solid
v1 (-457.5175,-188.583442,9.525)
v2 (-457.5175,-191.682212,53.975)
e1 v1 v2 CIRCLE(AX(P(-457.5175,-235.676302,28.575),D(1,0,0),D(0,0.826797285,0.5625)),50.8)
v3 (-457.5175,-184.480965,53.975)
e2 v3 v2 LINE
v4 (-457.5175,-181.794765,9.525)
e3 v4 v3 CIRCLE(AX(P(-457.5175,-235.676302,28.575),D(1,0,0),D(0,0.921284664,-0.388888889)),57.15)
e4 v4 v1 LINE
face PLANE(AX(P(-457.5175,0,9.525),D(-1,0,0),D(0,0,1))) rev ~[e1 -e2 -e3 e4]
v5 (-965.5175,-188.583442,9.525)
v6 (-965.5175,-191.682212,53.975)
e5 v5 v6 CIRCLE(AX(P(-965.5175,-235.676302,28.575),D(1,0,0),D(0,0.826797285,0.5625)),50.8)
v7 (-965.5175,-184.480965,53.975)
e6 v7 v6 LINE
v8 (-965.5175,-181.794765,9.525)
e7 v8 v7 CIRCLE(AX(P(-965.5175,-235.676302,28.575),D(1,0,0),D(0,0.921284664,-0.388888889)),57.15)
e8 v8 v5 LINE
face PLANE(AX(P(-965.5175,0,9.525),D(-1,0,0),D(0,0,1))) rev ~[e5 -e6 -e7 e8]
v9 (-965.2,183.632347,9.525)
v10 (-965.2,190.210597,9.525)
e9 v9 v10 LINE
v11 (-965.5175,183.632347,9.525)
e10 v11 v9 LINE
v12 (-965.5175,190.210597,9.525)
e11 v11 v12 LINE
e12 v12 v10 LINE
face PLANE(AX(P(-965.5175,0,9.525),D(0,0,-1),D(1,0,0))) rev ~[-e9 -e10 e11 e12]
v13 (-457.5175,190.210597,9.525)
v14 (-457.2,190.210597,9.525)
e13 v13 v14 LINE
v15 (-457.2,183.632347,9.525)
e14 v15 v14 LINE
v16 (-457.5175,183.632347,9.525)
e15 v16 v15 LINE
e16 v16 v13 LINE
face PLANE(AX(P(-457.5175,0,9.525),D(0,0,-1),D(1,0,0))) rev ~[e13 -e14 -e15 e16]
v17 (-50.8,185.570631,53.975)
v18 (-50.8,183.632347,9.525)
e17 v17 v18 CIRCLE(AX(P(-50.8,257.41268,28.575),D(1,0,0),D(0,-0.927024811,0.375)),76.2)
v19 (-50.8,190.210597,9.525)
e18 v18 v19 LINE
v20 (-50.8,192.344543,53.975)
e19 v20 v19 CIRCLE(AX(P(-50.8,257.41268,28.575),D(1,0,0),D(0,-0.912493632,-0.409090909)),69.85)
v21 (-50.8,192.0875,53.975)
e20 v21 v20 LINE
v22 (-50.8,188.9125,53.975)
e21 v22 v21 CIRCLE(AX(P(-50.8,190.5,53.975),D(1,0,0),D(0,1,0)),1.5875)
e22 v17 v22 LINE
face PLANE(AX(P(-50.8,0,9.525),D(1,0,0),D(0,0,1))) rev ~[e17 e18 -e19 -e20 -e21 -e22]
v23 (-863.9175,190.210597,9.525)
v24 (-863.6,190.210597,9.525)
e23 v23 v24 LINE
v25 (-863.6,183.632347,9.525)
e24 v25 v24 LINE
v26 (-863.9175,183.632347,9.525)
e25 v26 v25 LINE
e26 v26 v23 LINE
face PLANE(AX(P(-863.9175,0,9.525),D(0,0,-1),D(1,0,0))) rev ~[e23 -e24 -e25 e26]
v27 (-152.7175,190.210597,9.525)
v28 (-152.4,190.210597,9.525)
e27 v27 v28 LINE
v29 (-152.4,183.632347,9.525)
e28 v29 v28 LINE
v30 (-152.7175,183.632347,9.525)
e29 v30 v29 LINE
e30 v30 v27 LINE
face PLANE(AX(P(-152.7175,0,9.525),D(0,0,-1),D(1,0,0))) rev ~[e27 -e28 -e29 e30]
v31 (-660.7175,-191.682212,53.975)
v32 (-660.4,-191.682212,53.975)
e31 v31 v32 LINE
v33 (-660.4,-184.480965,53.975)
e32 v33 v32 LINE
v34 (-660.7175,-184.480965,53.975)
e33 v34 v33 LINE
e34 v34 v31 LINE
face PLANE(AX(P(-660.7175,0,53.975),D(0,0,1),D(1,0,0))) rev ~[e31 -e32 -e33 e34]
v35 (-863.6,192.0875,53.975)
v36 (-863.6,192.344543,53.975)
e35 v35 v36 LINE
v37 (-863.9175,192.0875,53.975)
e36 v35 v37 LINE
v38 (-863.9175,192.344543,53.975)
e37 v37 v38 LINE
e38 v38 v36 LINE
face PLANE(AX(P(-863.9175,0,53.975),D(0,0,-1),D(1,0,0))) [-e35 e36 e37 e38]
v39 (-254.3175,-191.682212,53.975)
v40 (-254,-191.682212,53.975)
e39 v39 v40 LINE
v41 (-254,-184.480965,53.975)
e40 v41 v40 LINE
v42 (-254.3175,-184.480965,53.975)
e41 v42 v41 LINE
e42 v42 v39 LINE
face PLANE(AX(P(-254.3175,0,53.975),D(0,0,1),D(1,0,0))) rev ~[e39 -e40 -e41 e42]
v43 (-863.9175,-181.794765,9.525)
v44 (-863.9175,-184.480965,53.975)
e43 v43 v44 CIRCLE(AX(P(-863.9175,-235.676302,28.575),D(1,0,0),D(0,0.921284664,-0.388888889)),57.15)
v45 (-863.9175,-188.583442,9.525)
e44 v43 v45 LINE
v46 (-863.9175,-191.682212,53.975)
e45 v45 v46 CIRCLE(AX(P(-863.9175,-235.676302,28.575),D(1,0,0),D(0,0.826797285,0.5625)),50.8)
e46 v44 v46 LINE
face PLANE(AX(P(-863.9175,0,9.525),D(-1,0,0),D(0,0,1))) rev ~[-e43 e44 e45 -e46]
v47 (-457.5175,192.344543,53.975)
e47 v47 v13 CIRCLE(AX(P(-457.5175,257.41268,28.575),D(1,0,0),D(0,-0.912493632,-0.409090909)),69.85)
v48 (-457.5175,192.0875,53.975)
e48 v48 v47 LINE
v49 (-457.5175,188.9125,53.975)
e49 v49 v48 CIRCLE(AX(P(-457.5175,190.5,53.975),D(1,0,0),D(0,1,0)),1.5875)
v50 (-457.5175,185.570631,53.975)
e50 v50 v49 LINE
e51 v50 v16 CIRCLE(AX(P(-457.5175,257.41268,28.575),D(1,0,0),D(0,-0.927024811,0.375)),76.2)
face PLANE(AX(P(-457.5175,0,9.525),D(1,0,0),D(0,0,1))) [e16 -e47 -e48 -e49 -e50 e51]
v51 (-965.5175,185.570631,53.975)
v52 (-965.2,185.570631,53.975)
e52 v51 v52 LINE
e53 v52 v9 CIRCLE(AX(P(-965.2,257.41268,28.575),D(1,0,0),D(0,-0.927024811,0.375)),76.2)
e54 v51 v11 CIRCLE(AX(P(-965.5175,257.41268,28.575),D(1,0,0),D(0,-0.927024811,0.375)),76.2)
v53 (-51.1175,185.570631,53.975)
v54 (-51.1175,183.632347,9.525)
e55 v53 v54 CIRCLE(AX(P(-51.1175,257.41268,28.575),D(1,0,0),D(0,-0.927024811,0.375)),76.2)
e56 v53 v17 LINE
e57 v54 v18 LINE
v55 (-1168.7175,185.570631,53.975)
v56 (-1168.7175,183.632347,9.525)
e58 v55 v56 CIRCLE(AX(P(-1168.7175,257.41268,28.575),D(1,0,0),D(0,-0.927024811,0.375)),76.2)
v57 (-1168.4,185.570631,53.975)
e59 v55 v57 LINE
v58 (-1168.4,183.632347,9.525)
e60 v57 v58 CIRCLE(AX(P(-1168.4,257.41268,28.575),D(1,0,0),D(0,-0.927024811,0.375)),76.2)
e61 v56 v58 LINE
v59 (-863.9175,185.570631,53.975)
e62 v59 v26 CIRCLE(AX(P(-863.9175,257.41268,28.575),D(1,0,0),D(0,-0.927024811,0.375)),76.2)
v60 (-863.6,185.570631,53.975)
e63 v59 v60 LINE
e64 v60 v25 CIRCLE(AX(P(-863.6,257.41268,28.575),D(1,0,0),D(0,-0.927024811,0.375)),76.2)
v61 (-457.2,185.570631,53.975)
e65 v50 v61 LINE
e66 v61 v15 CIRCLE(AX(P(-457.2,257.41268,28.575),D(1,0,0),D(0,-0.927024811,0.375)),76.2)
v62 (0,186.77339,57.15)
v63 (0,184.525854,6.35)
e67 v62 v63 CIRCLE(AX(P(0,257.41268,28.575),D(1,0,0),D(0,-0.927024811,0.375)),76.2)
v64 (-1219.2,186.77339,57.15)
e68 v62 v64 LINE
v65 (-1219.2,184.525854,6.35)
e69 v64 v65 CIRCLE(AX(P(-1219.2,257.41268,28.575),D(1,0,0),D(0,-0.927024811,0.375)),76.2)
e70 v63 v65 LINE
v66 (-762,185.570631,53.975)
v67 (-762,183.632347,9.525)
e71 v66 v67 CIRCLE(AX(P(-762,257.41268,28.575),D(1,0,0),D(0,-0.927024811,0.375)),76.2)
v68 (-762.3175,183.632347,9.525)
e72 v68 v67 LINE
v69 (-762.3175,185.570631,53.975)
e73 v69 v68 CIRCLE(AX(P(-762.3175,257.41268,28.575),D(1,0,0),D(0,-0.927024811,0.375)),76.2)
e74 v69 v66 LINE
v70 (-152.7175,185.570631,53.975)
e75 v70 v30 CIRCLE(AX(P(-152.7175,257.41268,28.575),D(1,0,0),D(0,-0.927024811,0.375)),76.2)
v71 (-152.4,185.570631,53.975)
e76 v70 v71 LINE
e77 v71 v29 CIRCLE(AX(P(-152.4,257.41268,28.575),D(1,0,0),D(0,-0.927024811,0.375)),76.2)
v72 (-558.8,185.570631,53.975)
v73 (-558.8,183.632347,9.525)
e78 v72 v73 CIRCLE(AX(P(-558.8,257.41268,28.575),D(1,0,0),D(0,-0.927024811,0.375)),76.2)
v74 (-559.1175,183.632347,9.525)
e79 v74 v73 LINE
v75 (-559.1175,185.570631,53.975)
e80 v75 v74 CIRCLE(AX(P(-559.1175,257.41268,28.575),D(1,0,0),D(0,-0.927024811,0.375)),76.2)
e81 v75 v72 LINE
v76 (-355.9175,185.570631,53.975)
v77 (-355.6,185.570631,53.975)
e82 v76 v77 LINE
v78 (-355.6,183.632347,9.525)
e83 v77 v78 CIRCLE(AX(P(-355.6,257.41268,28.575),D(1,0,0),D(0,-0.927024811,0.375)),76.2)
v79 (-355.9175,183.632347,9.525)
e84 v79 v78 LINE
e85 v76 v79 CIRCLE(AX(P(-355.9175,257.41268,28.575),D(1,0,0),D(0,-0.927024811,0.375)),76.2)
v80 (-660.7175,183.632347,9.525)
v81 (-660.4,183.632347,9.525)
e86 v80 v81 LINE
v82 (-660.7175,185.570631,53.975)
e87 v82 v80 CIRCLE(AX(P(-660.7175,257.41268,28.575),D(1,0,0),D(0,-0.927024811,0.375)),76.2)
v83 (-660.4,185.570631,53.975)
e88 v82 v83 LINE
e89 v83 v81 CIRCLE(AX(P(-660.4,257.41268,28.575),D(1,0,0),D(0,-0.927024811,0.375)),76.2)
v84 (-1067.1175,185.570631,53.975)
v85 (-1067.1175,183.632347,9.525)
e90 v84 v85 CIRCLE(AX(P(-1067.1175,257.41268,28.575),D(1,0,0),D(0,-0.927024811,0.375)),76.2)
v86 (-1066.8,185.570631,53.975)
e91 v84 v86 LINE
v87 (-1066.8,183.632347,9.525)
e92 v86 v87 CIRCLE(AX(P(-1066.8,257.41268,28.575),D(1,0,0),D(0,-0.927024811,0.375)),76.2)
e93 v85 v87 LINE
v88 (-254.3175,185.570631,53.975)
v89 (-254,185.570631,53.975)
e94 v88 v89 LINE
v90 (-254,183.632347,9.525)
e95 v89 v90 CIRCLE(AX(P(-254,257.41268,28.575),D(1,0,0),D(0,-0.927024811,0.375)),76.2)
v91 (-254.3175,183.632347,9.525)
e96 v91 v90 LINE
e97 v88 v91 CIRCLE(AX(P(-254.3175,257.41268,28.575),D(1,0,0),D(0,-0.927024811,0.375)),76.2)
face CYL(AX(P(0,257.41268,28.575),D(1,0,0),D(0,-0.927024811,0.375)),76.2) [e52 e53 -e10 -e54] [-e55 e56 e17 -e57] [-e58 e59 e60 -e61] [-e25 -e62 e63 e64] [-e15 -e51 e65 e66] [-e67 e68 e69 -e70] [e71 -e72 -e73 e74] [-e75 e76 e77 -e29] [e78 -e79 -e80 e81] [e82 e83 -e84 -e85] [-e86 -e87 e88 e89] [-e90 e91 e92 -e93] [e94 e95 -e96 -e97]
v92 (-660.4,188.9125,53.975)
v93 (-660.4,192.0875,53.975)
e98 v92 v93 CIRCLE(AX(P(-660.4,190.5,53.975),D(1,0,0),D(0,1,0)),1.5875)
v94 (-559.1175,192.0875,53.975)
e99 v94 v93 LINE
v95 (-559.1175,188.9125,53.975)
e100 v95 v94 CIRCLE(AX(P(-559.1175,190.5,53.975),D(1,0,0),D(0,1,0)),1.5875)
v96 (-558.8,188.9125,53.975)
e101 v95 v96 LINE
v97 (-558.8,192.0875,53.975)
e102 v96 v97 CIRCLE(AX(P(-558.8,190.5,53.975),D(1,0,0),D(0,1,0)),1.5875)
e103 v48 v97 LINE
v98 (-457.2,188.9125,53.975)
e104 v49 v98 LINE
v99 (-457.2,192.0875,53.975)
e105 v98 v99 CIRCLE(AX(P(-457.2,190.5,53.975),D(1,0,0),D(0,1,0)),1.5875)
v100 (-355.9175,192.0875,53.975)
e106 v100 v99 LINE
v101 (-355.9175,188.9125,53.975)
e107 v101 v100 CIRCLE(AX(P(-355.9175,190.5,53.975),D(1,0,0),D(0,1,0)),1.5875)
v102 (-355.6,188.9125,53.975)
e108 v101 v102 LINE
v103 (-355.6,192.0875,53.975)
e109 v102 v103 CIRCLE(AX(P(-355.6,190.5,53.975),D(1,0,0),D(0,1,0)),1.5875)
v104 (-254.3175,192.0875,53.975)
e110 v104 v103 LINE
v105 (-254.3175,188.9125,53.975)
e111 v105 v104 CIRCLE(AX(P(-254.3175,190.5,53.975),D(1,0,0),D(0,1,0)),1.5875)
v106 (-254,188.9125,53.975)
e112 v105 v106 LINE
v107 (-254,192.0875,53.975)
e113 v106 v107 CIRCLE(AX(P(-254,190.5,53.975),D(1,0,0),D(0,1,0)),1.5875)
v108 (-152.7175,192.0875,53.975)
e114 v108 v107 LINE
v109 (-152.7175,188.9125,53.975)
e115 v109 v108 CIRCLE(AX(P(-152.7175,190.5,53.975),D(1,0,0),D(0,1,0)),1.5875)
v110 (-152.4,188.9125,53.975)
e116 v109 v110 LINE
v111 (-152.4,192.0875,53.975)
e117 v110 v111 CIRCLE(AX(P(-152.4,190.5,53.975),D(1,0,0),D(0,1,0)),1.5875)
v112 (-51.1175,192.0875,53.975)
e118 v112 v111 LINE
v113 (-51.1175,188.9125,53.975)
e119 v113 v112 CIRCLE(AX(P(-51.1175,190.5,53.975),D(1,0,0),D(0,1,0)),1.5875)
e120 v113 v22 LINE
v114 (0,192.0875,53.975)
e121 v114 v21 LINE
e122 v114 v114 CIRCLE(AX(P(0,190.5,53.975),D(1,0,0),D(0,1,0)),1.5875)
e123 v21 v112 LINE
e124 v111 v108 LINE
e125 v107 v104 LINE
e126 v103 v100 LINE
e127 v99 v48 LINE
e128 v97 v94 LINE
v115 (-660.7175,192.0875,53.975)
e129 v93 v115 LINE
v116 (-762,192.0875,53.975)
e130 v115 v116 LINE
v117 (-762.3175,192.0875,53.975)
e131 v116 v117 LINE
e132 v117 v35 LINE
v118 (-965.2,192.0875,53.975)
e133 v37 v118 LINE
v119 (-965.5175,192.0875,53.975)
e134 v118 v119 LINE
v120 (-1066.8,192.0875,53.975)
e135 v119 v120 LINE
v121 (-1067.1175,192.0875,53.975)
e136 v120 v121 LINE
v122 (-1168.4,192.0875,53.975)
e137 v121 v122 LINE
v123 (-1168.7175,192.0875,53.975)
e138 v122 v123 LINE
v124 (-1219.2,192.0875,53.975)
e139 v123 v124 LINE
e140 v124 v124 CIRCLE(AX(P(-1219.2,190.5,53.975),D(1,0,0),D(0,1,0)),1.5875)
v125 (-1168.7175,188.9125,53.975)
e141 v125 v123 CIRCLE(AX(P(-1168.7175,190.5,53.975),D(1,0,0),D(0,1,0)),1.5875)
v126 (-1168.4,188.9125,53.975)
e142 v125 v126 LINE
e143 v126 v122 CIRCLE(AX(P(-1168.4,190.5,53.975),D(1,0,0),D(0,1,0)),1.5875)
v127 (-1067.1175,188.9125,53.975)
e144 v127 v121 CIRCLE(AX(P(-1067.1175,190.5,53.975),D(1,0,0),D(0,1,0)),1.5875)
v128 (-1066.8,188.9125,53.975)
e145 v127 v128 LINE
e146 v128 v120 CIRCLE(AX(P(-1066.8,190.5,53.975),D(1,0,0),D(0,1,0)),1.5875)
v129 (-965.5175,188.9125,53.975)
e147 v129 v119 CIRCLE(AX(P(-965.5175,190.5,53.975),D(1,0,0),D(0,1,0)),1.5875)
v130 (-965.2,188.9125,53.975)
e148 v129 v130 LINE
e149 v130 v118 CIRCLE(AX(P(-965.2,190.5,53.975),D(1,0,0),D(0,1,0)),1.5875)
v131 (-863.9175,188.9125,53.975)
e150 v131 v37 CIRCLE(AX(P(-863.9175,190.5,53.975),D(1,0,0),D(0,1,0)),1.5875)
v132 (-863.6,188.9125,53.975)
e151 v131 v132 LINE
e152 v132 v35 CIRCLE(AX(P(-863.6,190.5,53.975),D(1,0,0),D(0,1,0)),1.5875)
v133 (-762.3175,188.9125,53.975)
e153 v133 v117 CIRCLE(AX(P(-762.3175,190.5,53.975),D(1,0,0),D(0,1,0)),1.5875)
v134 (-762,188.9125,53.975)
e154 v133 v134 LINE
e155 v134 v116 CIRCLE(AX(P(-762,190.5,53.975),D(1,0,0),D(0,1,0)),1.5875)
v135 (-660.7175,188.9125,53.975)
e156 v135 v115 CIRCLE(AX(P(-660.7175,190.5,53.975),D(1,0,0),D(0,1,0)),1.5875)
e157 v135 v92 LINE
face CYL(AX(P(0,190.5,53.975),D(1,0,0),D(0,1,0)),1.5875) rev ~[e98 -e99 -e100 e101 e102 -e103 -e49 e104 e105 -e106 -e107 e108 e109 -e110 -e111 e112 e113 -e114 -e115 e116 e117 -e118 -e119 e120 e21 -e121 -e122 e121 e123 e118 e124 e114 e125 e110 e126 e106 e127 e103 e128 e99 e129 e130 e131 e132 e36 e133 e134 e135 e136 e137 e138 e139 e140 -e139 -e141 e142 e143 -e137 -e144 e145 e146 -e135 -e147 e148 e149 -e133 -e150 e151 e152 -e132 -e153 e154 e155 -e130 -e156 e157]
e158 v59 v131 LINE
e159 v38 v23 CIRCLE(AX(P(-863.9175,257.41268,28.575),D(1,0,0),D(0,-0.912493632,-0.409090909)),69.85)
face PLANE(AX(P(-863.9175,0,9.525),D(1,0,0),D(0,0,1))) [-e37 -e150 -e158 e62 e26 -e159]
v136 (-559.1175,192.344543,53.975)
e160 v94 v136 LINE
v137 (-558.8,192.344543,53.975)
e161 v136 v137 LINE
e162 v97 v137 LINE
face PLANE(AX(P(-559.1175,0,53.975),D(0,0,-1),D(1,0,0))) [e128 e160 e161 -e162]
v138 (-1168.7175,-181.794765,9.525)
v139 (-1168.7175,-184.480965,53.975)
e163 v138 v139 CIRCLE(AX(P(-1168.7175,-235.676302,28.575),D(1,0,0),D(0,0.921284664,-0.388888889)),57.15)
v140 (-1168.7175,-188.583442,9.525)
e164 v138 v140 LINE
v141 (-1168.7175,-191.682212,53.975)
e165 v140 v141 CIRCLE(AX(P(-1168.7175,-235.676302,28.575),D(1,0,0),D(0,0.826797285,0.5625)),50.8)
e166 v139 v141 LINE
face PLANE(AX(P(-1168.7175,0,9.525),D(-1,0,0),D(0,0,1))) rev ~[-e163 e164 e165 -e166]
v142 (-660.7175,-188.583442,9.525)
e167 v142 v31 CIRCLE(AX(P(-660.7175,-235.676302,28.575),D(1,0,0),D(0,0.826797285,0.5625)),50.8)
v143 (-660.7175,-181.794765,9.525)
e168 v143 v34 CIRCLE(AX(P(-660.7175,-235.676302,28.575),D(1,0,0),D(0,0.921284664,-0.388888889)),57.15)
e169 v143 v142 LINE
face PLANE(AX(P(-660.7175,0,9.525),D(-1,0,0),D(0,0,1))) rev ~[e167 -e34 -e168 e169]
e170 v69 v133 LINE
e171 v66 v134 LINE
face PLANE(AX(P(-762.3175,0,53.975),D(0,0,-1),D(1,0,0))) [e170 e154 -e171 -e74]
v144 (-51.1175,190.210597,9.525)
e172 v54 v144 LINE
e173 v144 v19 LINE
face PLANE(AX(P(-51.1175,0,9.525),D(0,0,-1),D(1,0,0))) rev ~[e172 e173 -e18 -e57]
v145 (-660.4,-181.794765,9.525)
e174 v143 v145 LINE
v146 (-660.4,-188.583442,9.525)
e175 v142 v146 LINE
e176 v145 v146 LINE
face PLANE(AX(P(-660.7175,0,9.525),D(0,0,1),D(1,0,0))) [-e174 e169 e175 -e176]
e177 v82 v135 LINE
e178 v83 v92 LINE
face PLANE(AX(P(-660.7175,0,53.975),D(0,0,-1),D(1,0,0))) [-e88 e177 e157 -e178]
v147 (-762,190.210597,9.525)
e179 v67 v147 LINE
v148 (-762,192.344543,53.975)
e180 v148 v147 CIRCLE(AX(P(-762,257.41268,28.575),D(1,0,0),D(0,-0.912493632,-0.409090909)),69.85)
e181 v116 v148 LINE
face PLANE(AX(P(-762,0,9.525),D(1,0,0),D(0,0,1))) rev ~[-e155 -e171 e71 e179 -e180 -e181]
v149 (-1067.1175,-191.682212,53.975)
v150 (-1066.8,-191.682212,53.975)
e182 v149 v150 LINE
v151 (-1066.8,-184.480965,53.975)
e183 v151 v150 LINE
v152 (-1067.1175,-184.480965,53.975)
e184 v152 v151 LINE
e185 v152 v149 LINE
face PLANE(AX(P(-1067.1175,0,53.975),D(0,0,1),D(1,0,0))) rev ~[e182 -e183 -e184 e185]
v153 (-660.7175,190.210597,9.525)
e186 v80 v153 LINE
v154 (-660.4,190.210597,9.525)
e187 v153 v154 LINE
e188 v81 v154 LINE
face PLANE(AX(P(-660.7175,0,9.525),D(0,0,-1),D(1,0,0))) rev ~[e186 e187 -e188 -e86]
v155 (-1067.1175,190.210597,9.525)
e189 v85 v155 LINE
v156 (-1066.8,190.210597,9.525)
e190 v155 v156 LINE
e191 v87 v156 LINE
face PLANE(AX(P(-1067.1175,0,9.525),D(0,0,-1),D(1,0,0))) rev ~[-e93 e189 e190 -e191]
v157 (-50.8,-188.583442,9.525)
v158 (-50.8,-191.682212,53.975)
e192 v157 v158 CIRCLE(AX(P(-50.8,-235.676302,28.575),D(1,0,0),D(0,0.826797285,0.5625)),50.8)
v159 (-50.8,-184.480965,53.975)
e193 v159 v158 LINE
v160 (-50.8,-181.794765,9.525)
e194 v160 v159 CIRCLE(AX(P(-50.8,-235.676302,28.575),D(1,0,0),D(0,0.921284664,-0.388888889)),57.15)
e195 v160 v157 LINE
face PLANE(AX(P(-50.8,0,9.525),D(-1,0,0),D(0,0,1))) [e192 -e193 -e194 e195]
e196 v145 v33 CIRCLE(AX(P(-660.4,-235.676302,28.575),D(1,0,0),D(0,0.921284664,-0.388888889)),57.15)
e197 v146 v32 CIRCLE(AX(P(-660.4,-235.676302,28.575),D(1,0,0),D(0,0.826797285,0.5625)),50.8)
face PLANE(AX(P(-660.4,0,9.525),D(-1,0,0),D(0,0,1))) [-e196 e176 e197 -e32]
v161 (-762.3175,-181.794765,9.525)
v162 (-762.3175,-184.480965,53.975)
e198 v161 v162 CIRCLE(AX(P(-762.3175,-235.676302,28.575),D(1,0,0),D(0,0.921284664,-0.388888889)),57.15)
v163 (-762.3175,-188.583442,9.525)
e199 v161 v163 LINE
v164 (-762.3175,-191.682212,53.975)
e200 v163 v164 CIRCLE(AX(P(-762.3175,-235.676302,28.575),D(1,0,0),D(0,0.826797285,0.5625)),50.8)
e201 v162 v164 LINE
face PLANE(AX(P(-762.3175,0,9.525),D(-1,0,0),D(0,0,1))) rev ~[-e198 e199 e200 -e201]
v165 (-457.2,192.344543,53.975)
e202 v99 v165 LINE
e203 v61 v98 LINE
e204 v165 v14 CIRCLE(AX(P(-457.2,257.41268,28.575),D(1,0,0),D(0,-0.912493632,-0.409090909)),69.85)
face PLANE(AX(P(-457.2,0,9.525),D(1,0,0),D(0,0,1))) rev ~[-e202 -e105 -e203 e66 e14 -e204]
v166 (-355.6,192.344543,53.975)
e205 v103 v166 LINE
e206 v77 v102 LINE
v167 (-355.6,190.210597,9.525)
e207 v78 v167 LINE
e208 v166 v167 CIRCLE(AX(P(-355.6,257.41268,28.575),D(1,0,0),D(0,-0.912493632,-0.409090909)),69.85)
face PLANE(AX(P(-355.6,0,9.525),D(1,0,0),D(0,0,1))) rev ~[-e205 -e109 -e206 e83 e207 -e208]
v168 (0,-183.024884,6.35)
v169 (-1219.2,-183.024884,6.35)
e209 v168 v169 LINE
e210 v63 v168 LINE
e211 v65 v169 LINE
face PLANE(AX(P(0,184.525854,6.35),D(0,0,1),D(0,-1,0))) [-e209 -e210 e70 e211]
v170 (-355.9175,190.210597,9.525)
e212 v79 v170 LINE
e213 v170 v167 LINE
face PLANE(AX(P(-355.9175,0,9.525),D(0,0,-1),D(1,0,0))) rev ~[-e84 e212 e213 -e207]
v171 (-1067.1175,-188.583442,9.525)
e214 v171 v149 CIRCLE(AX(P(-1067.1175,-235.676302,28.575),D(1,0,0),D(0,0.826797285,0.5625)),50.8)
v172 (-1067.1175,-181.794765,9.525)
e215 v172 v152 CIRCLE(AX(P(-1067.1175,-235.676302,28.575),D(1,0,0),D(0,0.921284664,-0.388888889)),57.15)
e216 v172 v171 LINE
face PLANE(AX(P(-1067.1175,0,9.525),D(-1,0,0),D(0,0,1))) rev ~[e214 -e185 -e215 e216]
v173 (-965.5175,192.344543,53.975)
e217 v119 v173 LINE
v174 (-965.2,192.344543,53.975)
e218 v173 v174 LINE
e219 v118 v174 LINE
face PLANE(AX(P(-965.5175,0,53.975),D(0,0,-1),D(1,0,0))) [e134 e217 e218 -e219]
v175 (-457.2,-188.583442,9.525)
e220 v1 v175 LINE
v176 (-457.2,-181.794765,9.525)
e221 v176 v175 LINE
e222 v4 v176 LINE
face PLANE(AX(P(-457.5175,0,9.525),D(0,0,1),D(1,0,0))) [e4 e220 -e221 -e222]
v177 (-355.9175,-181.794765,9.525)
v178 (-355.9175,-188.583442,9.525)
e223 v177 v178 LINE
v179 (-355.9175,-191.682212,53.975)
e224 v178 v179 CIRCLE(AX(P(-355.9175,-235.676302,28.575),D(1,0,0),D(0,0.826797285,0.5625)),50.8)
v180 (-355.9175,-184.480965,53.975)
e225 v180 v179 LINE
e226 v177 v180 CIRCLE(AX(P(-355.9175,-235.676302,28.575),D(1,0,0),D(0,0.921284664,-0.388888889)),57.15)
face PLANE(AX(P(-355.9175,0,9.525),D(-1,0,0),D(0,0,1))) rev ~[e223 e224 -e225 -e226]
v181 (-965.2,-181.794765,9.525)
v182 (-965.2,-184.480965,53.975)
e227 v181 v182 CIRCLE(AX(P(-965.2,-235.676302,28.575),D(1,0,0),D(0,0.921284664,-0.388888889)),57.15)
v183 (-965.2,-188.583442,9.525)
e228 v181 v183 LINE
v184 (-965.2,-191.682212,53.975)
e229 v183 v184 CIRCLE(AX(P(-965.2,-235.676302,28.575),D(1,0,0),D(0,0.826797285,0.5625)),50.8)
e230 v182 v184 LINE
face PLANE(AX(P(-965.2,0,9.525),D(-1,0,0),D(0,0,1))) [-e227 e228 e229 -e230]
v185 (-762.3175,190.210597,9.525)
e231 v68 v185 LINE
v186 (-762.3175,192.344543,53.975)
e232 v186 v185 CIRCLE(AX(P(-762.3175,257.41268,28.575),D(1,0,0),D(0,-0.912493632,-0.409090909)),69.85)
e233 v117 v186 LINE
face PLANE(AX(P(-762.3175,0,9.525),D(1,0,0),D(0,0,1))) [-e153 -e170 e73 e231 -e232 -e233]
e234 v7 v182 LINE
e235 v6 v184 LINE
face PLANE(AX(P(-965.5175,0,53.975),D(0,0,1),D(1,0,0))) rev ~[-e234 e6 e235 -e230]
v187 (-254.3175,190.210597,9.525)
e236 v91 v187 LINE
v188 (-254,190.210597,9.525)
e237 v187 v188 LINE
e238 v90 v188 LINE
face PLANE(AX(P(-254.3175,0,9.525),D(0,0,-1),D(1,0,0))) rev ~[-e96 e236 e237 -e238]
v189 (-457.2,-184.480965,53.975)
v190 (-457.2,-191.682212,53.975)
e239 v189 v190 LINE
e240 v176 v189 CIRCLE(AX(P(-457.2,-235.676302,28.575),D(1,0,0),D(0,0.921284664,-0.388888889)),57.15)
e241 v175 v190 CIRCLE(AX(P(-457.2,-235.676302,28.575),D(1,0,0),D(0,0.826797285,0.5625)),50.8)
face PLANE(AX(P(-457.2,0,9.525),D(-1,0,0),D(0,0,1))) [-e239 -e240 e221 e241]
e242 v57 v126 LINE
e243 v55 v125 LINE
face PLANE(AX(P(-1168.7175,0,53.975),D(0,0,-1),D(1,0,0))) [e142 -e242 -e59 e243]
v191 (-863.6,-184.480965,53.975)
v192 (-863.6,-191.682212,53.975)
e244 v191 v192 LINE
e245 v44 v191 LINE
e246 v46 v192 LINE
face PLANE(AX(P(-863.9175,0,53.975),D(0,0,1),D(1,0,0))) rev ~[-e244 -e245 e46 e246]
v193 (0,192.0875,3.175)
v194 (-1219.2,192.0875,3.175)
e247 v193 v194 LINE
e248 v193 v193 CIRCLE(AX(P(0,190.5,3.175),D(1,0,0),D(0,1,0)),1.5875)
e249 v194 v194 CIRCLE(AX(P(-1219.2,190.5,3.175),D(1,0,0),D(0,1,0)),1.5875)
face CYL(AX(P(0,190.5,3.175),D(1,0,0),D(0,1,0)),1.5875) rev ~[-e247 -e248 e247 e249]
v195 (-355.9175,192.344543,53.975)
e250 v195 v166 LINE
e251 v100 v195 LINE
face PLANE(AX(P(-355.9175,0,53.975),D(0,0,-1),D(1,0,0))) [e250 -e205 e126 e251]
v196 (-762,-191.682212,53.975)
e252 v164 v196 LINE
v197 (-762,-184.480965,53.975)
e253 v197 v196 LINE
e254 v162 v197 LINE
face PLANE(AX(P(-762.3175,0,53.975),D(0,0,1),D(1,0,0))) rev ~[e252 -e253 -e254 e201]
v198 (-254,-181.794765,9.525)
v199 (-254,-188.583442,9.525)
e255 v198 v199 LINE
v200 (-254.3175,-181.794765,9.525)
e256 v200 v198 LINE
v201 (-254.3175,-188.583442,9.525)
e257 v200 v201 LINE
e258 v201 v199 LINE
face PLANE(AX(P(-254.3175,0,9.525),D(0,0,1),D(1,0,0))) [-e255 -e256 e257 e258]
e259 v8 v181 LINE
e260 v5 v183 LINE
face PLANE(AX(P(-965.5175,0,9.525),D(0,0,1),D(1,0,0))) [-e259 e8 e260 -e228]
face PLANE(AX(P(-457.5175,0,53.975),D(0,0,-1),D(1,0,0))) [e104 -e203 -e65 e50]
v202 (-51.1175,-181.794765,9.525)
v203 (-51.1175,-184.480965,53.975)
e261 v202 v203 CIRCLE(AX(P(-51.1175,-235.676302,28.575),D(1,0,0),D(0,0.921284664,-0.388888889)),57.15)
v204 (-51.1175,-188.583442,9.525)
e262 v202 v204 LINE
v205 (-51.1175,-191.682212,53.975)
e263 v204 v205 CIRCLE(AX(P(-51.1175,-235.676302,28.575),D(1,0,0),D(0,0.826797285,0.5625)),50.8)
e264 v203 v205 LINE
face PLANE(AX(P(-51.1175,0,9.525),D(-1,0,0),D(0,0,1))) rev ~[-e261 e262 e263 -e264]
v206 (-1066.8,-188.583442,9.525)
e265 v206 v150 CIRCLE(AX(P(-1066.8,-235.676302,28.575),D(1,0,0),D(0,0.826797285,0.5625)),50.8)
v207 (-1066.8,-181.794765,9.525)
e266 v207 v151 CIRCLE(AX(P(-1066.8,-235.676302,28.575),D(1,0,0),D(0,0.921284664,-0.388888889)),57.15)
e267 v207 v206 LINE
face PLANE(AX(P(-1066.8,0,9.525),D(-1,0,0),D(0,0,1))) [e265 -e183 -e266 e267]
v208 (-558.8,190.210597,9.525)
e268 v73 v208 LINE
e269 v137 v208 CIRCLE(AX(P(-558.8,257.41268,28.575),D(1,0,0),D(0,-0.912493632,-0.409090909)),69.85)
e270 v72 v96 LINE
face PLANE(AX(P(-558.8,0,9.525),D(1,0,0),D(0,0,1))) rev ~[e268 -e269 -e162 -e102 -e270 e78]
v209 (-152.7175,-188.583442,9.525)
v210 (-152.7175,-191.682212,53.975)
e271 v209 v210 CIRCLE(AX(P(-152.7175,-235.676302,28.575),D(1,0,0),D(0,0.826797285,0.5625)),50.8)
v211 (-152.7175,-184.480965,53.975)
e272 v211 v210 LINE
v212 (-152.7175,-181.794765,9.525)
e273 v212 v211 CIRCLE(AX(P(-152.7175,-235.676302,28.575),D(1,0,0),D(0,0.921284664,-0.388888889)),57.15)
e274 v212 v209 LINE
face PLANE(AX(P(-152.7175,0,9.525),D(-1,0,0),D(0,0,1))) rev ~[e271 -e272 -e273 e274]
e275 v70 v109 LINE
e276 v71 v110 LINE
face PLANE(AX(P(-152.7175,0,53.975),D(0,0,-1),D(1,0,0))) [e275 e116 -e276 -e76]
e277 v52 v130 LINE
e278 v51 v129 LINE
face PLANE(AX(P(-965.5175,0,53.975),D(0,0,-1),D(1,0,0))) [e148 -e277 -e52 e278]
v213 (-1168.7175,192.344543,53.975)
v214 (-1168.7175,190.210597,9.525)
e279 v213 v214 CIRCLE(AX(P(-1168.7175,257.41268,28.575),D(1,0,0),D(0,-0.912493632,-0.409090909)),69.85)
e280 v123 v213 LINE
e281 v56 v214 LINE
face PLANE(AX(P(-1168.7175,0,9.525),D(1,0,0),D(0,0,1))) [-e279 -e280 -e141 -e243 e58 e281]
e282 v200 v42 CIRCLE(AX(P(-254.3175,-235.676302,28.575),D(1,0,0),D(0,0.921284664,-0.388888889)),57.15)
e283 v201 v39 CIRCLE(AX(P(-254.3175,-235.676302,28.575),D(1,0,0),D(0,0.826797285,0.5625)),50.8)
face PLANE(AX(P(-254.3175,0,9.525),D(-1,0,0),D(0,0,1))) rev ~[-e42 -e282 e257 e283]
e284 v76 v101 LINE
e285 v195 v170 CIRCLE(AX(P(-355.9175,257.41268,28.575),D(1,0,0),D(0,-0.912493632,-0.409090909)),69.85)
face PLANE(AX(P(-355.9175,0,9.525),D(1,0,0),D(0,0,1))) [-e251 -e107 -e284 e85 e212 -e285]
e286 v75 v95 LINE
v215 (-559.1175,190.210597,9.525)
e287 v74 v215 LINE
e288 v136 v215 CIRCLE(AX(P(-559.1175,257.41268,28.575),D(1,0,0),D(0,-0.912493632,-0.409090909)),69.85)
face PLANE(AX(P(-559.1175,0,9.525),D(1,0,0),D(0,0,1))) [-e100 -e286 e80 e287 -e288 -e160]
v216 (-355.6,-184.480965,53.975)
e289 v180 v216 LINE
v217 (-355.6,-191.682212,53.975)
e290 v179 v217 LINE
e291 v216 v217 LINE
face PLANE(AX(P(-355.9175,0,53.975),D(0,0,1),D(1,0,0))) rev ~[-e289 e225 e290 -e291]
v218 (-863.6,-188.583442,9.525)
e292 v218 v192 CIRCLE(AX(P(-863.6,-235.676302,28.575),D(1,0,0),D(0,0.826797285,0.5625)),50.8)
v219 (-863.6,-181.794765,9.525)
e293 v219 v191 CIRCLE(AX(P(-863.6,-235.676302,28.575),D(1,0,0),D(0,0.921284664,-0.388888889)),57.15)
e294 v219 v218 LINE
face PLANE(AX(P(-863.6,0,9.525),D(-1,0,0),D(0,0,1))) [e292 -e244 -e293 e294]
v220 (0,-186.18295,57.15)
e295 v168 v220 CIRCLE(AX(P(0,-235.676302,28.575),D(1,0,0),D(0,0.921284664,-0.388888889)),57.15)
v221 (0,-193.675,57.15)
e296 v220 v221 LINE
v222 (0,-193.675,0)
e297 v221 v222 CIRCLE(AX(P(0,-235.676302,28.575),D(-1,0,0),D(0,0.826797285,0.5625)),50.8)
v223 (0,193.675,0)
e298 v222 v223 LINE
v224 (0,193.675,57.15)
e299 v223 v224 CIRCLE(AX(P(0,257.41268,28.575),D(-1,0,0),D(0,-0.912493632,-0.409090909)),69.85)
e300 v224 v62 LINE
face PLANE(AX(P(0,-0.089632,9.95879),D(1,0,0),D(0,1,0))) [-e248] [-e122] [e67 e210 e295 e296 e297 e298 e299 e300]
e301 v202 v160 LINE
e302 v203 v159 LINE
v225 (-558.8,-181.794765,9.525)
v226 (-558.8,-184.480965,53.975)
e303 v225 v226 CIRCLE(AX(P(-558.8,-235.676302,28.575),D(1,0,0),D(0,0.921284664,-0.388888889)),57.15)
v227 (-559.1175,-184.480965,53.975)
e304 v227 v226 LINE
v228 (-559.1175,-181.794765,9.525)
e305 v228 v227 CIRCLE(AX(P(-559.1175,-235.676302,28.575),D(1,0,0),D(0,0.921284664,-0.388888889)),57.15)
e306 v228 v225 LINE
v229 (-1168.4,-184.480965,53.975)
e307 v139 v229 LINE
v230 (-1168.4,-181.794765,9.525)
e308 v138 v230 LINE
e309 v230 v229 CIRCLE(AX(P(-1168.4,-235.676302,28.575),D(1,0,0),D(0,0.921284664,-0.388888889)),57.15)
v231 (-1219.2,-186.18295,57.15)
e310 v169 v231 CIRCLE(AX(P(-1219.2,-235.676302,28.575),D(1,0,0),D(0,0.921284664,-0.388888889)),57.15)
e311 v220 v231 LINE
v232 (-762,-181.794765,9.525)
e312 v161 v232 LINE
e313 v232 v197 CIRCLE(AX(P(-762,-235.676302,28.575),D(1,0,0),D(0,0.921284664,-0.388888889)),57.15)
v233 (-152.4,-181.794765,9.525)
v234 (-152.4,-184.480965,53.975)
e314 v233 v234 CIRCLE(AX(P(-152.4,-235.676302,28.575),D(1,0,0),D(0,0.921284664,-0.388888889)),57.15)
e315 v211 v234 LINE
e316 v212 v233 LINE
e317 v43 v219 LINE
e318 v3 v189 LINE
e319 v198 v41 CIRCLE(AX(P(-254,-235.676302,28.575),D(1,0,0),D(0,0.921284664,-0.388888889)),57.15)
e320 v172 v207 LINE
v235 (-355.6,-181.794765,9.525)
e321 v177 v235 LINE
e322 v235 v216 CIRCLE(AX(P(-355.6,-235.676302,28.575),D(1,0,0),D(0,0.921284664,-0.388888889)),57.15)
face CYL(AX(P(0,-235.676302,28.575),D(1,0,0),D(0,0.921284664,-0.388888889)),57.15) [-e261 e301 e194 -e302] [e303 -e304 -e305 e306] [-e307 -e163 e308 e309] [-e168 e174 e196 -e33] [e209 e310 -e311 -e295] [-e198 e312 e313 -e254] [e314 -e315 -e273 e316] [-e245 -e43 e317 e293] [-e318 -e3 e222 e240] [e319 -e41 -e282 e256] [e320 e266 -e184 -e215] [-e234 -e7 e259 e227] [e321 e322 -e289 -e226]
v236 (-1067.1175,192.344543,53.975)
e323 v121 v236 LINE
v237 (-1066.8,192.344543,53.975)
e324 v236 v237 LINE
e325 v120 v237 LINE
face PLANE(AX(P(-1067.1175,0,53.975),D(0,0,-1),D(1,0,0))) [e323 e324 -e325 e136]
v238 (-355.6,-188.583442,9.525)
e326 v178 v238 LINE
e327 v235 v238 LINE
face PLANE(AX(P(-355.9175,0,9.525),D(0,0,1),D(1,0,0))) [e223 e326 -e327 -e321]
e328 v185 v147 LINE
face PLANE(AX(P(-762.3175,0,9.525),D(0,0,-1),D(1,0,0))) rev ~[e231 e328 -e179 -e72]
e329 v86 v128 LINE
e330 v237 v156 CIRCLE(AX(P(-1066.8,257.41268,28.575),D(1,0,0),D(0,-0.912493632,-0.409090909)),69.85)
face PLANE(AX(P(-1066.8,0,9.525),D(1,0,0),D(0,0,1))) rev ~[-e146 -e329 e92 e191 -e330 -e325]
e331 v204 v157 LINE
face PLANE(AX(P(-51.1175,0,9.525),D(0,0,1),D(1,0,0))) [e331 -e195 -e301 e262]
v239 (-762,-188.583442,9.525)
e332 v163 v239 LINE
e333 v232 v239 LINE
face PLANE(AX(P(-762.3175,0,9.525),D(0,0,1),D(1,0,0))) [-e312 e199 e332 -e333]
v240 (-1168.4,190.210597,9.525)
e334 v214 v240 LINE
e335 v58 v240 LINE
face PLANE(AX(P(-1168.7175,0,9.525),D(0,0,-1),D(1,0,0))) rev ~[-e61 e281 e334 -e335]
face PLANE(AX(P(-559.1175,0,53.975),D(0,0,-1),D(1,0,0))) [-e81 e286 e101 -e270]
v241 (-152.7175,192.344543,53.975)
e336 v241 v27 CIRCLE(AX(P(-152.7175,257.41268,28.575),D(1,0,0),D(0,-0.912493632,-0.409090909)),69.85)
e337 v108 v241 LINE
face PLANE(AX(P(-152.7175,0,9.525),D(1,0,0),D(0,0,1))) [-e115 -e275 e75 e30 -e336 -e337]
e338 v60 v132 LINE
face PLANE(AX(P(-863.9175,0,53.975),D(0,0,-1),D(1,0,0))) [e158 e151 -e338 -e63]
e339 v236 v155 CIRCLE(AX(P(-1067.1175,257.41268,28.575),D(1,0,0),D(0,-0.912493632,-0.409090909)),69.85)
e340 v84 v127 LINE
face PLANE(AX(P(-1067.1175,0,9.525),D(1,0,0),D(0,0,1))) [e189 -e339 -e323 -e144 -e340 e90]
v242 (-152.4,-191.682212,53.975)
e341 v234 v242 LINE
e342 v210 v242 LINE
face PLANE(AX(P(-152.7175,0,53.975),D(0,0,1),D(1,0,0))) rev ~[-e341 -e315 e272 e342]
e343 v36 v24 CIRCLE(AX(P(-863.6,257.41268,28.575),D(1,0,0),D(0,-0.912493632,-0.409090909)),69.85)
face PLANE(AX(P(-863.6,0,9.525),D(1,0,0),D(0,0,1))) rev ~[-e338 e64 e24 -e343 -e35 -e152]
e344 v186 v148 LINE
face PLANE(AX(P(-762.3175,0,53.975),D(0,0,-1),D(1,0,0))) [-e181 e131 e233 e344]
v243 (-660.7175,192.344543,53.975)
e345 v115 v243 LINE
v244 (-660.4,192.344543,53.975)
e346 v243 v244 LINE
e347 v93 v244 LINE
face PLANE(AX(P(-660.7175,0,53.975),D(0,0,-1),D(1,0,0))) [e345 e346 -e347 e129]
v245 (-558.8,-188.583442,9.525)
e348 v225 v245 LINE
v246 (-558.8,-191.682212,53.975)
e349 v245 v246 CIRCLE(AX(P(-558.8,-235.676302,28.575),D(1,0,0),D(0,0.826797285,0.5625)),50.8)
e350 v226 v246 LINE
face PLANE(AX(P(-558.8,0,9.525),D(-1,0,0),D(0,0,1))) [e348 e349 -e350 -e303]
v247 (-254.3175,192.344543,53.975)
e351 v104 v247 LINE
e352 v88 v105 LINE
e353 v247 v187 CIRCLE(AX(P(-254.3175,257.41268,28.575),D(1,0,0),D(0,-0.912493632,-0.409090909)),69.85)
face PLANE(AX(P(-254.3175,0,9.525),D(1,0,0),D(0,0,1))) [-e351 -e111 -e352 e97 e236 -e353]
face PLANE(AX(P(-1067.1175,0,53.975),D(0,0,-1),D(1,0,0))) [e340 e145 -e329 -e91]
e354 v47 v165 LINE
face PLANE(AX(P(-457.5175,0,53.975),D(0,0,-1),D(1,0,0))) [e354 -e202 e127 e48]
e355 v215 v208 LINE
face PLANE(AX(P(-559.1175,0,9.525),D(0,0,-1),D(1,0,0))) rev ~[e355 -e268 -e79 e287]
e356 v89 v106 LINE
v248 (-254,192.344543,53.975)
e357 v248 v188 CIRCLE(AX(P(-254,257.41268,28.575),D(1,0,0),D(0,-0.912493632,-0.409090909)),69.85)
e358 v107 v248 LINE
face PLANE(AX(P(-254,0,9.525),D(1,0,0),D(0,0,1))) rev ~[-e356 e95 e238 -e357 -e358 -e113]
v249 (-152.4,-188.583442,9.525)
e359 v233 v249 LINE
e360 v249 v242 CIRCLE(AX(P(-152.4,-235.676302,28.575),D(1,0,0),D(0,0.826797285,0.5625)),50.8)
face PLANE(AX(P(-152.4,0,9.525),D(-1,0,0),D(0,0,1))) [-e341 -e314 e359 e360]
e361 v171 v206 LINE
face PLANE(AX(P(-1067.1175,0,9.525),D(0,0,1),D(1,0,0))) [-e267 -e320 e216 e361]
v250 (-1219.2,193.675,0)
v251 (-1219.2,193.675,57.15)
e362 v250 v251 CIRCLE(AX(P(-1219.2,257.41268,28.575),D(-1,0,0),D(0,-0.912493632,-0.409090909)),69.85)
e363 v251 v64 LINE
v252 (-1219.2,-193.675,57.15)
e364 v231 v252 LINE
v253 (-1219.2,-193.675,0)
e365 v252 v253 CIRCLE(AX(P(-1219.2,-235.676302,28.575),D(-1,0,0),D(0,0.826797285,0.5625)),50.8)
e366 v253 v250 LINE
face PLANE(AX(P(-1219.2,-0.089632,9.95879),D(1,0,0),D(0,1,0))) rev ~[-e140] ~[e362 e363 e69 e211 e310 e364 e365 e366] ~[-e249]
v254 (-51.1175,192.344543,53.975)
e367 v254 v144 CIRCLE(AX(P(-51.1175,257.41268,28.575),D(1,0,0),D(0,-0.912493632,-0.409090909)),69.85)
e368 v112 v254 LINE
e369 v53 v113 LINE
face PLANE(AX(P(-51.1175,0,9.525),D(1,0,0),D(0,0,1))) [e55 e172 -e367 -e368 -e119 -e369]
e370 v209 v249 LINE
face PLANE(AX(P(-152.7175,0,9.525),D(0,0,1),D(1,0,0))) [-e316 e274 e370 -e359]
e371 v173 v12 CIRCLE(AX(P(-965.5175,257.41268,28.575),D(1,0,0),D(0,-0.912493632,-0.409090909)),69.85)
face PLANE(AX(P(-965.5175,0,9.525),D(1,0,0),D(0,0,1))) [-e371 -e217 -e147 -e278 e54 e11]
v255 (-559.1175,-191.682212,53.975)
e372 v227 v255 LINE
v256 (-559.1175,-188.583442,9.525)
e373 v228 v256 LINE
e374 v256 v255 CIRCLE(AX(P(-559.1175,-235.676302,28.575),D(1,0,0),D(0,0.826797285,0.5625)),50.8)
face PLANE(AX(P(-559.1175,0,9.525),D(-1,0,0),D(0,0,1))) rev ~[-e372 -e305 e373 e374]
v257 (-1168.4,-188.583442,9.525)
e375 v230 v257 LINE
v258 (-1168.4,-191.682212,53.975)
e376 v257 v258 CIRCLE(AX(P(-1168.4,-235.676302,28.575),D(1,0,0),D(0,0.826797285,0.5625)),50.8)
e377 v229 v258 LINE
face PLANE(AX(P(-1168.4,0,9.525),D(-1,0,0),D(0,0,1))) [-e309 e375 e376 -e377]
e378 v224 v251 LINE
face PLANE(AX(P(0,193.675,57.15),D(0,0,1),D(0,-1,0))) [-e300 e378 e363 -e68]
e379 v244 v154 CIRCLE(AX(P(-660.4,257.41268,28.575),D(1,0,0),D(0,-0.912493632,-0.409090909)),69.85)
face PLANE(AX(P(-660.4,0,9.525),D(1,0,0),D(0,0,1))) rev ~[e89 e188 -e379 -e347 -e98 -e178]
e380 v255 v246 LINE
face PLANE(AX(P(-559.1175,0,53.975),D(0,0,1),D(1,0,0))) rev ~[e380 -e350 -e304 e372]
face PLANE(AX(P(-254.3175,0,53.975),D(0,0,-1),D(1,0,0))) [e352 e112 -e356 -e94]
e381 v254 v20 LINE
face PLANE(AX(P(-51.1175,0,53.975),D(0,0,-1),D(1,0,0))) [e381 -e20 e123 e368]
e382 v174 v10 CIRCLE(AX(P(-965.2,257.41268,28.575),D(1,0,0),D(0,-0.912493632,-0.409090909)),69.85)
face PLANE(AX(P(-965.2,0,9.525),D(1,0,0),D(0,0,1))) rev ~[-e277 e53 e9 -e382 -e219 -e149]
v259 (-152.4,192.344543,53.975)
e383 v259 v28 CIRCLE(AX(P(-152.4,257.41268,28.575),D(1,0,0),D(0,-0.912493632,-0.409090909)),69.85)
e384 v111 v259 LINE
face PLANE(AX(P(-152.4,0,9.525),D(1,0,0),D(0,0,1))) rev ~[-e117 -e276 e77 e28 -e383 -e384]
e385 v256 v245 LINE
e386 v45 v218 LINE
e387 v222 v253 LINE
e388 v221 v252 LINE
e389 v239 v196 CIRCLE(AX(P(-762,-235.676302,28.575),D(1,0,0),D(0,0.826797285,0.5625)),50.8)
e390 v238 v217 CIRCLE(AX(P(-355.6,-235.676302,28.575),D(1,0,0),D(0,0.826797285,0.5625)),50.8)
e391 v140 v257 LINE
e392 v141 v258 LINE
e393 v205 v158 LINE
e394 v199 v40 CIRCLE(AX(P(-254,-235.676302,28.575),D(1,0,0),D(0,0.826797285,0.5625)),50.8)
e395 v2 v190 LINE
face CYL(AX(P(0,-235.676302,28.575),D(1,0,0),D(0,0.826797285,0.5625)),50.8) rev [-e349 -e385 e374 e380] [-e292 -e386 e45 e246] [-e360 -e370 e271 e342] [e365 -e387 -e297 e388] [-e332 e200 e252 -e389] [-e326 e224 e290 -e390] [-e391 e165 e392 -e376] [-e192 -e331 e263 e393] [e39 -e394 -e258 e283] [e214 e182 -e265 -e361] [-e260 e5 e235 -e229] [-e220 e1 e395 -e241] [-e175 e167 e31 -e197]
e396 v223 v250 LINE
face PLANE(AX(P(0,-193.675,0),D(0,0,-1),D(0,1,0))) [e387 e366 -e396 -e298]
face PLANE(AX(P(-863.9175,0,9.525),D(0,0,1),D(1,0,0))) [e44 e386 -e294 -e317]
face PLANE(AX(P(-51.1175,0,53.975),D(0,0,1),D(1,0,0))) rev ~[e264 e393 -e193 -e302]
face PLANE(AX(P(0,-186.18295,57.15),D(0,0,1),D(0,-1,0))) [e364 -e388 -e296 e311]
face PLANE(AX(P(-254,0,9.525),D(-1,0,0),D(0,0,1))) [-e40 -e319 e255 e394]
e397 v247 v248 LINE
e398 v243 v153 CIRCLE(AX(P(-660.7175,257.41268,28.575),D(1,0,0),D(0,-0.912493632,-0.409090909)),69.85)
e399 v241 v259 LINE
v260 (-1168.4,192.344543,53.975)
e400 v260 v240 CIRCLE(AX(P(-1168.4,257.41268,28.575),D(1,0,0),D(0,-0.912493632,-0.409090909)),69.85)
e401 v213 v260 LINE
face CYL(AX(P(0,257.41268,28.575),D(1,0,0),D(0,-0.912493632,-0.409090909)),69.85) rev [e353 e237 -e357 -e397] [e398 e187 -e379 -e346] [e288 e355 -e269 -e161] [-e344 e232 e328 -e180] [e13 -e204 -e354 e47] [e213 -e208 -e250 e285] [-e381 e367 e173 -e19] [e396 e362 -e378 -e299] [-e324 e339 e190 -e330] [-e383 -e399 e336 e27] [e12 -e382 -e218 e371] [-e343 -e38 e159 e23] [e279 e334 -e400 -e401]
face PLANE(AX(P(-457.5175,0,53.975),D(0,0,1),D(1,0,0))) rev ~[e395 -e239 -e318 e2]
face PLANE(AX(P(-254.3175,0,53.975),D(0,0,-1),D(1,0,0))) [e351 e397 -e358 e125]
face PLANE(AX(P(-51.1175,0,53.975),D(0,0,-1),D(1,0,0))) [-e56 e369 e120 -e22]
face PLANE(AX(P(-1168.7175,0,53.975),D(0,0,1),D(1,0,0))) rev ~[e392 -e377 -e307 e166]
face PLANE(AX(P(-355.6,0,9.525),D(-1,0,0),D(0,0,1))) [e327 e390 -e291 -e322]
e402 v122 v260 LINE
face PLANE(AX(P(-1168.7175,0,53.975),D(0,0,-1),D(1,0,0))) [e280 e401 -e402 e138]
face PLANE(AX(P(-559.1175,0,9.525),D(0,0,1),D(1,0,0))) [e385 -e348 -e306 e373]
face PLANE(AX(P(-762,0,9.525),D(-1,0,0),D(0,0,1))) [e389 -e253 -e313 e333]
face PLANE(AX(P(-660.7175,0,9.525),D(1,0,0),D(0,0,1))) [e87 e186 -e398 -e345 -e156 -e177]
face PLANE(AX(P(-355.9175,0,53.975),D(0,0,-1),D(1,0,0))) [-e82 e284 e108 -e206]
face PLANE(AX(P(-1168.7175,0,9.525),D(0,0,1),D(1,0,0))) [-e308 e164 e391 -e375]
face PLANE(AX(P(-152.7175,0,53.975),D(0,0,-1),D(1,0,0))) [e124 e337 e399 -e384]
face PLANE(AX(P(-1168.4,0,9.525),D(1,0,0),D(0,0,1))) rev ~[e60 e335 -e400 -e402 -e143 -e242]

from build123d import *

# Parameters (mm, degrees)
F1_DEPTH      = 1219.2
F2_R          = 1.5875
F3_DEPTH      = 1219.201
F4_W          = 0.3175
F4_H          = 44.45
F5_DEPTH      = 193.3445428183
F5_DEPTH_BACK = 192.6822115509


with BuildPart() as f1:
    # F0 (on Right) → F1 (new body)
    with BuildSketch(Plane.YZ):
        with BuildLine():
            ThreePointArc((-193.675, 57.15), (-184.8763020632, 28.575), (-193.675, 0))
            Line((-193.675, 0), (193.675, 0))
            ThreePointArc((193.675, 0), (187.5626801821, 28.575), (193.675, 57.15))
            Line((193.675, 57.15), (186.7733895925, 57.15))
            ThreePointArc((186.7733895925, 57.15), (181.2871488449, 31.94300811), (184.5258543835, 6.35))
            Line((184.5258543835, 6.35), (-183.0248835163, 6.35))
            ThreePointArc((-183.0248835163, 6.35), (-178.6364166438, 32.1209796041), (-186.1829502369, 57.15))
            Line((-186.1829502369, 57.15), (-193.675, 57.15))
        make_face()
    extrude(amount=-F1_DEPTH)

    # F2 (on face) → F3 (cut, through all)
    with BuildSketch(Plane.YZ):
        with Locations((190.5, 53.975)):
            Circle(F2_R)
        with Locations((190.5, 3.175)):
            Circle(F2_R)
    extrude(amount=-F3_DEPTH, mode=Mode.SUBTRACT)

    # F4 (on Front) → F5 (cut, two sides)
    with BuildSketch(Plane.XZ) as f5_sk:
        with Locations((-50.95875, 31.75)):
            Rectangle(F4_W, F4_H)
        with Locations((-152.55875, 31.75)):
            Rectangle(F4_W, F4_H)
        with Locations((-254.15875, 31.75)):
            Rectangle(F4_W, F4_H)
        with Locations((-355.75875, 31.75)):
            Rectangle(F4_W, F4_H)
        with Locations((-457.35875, 31.75)):
            Rectangle(F4_W, F4_H)
        with Locations((-558.95875, 31.75)):
            Rectangle(F4_W, F4_H)
        with Locations((-660.55875, 31.75)):
            Rectangle(F4_W, F4_H)
        with Locations((-762.15875, 31.75)):
            Rectangle(F4_W, F4_H)
        with Locations((-863.75875, 31.75)):
            Rectangle(F4_W, F4_H)
        with Locations((-965.35875, 31.75)):
            Rectangle(F4_W, F4_H)
        with Locations((-1066.95875, 31.75)):
            Rectangle(F4_W, F4_H)
        with Locations((-1168.55875, 31.75)):
            Rectangle(F4_W, F4_H)
    extrude(amount=-F5_DEPTH, mode=Mode.SUBTRACT)
    extrude(f5_sk.sketch, amount=F5_DEPTH_BACK, mode=Mode.SUBTRACT)


solid = f1.part
